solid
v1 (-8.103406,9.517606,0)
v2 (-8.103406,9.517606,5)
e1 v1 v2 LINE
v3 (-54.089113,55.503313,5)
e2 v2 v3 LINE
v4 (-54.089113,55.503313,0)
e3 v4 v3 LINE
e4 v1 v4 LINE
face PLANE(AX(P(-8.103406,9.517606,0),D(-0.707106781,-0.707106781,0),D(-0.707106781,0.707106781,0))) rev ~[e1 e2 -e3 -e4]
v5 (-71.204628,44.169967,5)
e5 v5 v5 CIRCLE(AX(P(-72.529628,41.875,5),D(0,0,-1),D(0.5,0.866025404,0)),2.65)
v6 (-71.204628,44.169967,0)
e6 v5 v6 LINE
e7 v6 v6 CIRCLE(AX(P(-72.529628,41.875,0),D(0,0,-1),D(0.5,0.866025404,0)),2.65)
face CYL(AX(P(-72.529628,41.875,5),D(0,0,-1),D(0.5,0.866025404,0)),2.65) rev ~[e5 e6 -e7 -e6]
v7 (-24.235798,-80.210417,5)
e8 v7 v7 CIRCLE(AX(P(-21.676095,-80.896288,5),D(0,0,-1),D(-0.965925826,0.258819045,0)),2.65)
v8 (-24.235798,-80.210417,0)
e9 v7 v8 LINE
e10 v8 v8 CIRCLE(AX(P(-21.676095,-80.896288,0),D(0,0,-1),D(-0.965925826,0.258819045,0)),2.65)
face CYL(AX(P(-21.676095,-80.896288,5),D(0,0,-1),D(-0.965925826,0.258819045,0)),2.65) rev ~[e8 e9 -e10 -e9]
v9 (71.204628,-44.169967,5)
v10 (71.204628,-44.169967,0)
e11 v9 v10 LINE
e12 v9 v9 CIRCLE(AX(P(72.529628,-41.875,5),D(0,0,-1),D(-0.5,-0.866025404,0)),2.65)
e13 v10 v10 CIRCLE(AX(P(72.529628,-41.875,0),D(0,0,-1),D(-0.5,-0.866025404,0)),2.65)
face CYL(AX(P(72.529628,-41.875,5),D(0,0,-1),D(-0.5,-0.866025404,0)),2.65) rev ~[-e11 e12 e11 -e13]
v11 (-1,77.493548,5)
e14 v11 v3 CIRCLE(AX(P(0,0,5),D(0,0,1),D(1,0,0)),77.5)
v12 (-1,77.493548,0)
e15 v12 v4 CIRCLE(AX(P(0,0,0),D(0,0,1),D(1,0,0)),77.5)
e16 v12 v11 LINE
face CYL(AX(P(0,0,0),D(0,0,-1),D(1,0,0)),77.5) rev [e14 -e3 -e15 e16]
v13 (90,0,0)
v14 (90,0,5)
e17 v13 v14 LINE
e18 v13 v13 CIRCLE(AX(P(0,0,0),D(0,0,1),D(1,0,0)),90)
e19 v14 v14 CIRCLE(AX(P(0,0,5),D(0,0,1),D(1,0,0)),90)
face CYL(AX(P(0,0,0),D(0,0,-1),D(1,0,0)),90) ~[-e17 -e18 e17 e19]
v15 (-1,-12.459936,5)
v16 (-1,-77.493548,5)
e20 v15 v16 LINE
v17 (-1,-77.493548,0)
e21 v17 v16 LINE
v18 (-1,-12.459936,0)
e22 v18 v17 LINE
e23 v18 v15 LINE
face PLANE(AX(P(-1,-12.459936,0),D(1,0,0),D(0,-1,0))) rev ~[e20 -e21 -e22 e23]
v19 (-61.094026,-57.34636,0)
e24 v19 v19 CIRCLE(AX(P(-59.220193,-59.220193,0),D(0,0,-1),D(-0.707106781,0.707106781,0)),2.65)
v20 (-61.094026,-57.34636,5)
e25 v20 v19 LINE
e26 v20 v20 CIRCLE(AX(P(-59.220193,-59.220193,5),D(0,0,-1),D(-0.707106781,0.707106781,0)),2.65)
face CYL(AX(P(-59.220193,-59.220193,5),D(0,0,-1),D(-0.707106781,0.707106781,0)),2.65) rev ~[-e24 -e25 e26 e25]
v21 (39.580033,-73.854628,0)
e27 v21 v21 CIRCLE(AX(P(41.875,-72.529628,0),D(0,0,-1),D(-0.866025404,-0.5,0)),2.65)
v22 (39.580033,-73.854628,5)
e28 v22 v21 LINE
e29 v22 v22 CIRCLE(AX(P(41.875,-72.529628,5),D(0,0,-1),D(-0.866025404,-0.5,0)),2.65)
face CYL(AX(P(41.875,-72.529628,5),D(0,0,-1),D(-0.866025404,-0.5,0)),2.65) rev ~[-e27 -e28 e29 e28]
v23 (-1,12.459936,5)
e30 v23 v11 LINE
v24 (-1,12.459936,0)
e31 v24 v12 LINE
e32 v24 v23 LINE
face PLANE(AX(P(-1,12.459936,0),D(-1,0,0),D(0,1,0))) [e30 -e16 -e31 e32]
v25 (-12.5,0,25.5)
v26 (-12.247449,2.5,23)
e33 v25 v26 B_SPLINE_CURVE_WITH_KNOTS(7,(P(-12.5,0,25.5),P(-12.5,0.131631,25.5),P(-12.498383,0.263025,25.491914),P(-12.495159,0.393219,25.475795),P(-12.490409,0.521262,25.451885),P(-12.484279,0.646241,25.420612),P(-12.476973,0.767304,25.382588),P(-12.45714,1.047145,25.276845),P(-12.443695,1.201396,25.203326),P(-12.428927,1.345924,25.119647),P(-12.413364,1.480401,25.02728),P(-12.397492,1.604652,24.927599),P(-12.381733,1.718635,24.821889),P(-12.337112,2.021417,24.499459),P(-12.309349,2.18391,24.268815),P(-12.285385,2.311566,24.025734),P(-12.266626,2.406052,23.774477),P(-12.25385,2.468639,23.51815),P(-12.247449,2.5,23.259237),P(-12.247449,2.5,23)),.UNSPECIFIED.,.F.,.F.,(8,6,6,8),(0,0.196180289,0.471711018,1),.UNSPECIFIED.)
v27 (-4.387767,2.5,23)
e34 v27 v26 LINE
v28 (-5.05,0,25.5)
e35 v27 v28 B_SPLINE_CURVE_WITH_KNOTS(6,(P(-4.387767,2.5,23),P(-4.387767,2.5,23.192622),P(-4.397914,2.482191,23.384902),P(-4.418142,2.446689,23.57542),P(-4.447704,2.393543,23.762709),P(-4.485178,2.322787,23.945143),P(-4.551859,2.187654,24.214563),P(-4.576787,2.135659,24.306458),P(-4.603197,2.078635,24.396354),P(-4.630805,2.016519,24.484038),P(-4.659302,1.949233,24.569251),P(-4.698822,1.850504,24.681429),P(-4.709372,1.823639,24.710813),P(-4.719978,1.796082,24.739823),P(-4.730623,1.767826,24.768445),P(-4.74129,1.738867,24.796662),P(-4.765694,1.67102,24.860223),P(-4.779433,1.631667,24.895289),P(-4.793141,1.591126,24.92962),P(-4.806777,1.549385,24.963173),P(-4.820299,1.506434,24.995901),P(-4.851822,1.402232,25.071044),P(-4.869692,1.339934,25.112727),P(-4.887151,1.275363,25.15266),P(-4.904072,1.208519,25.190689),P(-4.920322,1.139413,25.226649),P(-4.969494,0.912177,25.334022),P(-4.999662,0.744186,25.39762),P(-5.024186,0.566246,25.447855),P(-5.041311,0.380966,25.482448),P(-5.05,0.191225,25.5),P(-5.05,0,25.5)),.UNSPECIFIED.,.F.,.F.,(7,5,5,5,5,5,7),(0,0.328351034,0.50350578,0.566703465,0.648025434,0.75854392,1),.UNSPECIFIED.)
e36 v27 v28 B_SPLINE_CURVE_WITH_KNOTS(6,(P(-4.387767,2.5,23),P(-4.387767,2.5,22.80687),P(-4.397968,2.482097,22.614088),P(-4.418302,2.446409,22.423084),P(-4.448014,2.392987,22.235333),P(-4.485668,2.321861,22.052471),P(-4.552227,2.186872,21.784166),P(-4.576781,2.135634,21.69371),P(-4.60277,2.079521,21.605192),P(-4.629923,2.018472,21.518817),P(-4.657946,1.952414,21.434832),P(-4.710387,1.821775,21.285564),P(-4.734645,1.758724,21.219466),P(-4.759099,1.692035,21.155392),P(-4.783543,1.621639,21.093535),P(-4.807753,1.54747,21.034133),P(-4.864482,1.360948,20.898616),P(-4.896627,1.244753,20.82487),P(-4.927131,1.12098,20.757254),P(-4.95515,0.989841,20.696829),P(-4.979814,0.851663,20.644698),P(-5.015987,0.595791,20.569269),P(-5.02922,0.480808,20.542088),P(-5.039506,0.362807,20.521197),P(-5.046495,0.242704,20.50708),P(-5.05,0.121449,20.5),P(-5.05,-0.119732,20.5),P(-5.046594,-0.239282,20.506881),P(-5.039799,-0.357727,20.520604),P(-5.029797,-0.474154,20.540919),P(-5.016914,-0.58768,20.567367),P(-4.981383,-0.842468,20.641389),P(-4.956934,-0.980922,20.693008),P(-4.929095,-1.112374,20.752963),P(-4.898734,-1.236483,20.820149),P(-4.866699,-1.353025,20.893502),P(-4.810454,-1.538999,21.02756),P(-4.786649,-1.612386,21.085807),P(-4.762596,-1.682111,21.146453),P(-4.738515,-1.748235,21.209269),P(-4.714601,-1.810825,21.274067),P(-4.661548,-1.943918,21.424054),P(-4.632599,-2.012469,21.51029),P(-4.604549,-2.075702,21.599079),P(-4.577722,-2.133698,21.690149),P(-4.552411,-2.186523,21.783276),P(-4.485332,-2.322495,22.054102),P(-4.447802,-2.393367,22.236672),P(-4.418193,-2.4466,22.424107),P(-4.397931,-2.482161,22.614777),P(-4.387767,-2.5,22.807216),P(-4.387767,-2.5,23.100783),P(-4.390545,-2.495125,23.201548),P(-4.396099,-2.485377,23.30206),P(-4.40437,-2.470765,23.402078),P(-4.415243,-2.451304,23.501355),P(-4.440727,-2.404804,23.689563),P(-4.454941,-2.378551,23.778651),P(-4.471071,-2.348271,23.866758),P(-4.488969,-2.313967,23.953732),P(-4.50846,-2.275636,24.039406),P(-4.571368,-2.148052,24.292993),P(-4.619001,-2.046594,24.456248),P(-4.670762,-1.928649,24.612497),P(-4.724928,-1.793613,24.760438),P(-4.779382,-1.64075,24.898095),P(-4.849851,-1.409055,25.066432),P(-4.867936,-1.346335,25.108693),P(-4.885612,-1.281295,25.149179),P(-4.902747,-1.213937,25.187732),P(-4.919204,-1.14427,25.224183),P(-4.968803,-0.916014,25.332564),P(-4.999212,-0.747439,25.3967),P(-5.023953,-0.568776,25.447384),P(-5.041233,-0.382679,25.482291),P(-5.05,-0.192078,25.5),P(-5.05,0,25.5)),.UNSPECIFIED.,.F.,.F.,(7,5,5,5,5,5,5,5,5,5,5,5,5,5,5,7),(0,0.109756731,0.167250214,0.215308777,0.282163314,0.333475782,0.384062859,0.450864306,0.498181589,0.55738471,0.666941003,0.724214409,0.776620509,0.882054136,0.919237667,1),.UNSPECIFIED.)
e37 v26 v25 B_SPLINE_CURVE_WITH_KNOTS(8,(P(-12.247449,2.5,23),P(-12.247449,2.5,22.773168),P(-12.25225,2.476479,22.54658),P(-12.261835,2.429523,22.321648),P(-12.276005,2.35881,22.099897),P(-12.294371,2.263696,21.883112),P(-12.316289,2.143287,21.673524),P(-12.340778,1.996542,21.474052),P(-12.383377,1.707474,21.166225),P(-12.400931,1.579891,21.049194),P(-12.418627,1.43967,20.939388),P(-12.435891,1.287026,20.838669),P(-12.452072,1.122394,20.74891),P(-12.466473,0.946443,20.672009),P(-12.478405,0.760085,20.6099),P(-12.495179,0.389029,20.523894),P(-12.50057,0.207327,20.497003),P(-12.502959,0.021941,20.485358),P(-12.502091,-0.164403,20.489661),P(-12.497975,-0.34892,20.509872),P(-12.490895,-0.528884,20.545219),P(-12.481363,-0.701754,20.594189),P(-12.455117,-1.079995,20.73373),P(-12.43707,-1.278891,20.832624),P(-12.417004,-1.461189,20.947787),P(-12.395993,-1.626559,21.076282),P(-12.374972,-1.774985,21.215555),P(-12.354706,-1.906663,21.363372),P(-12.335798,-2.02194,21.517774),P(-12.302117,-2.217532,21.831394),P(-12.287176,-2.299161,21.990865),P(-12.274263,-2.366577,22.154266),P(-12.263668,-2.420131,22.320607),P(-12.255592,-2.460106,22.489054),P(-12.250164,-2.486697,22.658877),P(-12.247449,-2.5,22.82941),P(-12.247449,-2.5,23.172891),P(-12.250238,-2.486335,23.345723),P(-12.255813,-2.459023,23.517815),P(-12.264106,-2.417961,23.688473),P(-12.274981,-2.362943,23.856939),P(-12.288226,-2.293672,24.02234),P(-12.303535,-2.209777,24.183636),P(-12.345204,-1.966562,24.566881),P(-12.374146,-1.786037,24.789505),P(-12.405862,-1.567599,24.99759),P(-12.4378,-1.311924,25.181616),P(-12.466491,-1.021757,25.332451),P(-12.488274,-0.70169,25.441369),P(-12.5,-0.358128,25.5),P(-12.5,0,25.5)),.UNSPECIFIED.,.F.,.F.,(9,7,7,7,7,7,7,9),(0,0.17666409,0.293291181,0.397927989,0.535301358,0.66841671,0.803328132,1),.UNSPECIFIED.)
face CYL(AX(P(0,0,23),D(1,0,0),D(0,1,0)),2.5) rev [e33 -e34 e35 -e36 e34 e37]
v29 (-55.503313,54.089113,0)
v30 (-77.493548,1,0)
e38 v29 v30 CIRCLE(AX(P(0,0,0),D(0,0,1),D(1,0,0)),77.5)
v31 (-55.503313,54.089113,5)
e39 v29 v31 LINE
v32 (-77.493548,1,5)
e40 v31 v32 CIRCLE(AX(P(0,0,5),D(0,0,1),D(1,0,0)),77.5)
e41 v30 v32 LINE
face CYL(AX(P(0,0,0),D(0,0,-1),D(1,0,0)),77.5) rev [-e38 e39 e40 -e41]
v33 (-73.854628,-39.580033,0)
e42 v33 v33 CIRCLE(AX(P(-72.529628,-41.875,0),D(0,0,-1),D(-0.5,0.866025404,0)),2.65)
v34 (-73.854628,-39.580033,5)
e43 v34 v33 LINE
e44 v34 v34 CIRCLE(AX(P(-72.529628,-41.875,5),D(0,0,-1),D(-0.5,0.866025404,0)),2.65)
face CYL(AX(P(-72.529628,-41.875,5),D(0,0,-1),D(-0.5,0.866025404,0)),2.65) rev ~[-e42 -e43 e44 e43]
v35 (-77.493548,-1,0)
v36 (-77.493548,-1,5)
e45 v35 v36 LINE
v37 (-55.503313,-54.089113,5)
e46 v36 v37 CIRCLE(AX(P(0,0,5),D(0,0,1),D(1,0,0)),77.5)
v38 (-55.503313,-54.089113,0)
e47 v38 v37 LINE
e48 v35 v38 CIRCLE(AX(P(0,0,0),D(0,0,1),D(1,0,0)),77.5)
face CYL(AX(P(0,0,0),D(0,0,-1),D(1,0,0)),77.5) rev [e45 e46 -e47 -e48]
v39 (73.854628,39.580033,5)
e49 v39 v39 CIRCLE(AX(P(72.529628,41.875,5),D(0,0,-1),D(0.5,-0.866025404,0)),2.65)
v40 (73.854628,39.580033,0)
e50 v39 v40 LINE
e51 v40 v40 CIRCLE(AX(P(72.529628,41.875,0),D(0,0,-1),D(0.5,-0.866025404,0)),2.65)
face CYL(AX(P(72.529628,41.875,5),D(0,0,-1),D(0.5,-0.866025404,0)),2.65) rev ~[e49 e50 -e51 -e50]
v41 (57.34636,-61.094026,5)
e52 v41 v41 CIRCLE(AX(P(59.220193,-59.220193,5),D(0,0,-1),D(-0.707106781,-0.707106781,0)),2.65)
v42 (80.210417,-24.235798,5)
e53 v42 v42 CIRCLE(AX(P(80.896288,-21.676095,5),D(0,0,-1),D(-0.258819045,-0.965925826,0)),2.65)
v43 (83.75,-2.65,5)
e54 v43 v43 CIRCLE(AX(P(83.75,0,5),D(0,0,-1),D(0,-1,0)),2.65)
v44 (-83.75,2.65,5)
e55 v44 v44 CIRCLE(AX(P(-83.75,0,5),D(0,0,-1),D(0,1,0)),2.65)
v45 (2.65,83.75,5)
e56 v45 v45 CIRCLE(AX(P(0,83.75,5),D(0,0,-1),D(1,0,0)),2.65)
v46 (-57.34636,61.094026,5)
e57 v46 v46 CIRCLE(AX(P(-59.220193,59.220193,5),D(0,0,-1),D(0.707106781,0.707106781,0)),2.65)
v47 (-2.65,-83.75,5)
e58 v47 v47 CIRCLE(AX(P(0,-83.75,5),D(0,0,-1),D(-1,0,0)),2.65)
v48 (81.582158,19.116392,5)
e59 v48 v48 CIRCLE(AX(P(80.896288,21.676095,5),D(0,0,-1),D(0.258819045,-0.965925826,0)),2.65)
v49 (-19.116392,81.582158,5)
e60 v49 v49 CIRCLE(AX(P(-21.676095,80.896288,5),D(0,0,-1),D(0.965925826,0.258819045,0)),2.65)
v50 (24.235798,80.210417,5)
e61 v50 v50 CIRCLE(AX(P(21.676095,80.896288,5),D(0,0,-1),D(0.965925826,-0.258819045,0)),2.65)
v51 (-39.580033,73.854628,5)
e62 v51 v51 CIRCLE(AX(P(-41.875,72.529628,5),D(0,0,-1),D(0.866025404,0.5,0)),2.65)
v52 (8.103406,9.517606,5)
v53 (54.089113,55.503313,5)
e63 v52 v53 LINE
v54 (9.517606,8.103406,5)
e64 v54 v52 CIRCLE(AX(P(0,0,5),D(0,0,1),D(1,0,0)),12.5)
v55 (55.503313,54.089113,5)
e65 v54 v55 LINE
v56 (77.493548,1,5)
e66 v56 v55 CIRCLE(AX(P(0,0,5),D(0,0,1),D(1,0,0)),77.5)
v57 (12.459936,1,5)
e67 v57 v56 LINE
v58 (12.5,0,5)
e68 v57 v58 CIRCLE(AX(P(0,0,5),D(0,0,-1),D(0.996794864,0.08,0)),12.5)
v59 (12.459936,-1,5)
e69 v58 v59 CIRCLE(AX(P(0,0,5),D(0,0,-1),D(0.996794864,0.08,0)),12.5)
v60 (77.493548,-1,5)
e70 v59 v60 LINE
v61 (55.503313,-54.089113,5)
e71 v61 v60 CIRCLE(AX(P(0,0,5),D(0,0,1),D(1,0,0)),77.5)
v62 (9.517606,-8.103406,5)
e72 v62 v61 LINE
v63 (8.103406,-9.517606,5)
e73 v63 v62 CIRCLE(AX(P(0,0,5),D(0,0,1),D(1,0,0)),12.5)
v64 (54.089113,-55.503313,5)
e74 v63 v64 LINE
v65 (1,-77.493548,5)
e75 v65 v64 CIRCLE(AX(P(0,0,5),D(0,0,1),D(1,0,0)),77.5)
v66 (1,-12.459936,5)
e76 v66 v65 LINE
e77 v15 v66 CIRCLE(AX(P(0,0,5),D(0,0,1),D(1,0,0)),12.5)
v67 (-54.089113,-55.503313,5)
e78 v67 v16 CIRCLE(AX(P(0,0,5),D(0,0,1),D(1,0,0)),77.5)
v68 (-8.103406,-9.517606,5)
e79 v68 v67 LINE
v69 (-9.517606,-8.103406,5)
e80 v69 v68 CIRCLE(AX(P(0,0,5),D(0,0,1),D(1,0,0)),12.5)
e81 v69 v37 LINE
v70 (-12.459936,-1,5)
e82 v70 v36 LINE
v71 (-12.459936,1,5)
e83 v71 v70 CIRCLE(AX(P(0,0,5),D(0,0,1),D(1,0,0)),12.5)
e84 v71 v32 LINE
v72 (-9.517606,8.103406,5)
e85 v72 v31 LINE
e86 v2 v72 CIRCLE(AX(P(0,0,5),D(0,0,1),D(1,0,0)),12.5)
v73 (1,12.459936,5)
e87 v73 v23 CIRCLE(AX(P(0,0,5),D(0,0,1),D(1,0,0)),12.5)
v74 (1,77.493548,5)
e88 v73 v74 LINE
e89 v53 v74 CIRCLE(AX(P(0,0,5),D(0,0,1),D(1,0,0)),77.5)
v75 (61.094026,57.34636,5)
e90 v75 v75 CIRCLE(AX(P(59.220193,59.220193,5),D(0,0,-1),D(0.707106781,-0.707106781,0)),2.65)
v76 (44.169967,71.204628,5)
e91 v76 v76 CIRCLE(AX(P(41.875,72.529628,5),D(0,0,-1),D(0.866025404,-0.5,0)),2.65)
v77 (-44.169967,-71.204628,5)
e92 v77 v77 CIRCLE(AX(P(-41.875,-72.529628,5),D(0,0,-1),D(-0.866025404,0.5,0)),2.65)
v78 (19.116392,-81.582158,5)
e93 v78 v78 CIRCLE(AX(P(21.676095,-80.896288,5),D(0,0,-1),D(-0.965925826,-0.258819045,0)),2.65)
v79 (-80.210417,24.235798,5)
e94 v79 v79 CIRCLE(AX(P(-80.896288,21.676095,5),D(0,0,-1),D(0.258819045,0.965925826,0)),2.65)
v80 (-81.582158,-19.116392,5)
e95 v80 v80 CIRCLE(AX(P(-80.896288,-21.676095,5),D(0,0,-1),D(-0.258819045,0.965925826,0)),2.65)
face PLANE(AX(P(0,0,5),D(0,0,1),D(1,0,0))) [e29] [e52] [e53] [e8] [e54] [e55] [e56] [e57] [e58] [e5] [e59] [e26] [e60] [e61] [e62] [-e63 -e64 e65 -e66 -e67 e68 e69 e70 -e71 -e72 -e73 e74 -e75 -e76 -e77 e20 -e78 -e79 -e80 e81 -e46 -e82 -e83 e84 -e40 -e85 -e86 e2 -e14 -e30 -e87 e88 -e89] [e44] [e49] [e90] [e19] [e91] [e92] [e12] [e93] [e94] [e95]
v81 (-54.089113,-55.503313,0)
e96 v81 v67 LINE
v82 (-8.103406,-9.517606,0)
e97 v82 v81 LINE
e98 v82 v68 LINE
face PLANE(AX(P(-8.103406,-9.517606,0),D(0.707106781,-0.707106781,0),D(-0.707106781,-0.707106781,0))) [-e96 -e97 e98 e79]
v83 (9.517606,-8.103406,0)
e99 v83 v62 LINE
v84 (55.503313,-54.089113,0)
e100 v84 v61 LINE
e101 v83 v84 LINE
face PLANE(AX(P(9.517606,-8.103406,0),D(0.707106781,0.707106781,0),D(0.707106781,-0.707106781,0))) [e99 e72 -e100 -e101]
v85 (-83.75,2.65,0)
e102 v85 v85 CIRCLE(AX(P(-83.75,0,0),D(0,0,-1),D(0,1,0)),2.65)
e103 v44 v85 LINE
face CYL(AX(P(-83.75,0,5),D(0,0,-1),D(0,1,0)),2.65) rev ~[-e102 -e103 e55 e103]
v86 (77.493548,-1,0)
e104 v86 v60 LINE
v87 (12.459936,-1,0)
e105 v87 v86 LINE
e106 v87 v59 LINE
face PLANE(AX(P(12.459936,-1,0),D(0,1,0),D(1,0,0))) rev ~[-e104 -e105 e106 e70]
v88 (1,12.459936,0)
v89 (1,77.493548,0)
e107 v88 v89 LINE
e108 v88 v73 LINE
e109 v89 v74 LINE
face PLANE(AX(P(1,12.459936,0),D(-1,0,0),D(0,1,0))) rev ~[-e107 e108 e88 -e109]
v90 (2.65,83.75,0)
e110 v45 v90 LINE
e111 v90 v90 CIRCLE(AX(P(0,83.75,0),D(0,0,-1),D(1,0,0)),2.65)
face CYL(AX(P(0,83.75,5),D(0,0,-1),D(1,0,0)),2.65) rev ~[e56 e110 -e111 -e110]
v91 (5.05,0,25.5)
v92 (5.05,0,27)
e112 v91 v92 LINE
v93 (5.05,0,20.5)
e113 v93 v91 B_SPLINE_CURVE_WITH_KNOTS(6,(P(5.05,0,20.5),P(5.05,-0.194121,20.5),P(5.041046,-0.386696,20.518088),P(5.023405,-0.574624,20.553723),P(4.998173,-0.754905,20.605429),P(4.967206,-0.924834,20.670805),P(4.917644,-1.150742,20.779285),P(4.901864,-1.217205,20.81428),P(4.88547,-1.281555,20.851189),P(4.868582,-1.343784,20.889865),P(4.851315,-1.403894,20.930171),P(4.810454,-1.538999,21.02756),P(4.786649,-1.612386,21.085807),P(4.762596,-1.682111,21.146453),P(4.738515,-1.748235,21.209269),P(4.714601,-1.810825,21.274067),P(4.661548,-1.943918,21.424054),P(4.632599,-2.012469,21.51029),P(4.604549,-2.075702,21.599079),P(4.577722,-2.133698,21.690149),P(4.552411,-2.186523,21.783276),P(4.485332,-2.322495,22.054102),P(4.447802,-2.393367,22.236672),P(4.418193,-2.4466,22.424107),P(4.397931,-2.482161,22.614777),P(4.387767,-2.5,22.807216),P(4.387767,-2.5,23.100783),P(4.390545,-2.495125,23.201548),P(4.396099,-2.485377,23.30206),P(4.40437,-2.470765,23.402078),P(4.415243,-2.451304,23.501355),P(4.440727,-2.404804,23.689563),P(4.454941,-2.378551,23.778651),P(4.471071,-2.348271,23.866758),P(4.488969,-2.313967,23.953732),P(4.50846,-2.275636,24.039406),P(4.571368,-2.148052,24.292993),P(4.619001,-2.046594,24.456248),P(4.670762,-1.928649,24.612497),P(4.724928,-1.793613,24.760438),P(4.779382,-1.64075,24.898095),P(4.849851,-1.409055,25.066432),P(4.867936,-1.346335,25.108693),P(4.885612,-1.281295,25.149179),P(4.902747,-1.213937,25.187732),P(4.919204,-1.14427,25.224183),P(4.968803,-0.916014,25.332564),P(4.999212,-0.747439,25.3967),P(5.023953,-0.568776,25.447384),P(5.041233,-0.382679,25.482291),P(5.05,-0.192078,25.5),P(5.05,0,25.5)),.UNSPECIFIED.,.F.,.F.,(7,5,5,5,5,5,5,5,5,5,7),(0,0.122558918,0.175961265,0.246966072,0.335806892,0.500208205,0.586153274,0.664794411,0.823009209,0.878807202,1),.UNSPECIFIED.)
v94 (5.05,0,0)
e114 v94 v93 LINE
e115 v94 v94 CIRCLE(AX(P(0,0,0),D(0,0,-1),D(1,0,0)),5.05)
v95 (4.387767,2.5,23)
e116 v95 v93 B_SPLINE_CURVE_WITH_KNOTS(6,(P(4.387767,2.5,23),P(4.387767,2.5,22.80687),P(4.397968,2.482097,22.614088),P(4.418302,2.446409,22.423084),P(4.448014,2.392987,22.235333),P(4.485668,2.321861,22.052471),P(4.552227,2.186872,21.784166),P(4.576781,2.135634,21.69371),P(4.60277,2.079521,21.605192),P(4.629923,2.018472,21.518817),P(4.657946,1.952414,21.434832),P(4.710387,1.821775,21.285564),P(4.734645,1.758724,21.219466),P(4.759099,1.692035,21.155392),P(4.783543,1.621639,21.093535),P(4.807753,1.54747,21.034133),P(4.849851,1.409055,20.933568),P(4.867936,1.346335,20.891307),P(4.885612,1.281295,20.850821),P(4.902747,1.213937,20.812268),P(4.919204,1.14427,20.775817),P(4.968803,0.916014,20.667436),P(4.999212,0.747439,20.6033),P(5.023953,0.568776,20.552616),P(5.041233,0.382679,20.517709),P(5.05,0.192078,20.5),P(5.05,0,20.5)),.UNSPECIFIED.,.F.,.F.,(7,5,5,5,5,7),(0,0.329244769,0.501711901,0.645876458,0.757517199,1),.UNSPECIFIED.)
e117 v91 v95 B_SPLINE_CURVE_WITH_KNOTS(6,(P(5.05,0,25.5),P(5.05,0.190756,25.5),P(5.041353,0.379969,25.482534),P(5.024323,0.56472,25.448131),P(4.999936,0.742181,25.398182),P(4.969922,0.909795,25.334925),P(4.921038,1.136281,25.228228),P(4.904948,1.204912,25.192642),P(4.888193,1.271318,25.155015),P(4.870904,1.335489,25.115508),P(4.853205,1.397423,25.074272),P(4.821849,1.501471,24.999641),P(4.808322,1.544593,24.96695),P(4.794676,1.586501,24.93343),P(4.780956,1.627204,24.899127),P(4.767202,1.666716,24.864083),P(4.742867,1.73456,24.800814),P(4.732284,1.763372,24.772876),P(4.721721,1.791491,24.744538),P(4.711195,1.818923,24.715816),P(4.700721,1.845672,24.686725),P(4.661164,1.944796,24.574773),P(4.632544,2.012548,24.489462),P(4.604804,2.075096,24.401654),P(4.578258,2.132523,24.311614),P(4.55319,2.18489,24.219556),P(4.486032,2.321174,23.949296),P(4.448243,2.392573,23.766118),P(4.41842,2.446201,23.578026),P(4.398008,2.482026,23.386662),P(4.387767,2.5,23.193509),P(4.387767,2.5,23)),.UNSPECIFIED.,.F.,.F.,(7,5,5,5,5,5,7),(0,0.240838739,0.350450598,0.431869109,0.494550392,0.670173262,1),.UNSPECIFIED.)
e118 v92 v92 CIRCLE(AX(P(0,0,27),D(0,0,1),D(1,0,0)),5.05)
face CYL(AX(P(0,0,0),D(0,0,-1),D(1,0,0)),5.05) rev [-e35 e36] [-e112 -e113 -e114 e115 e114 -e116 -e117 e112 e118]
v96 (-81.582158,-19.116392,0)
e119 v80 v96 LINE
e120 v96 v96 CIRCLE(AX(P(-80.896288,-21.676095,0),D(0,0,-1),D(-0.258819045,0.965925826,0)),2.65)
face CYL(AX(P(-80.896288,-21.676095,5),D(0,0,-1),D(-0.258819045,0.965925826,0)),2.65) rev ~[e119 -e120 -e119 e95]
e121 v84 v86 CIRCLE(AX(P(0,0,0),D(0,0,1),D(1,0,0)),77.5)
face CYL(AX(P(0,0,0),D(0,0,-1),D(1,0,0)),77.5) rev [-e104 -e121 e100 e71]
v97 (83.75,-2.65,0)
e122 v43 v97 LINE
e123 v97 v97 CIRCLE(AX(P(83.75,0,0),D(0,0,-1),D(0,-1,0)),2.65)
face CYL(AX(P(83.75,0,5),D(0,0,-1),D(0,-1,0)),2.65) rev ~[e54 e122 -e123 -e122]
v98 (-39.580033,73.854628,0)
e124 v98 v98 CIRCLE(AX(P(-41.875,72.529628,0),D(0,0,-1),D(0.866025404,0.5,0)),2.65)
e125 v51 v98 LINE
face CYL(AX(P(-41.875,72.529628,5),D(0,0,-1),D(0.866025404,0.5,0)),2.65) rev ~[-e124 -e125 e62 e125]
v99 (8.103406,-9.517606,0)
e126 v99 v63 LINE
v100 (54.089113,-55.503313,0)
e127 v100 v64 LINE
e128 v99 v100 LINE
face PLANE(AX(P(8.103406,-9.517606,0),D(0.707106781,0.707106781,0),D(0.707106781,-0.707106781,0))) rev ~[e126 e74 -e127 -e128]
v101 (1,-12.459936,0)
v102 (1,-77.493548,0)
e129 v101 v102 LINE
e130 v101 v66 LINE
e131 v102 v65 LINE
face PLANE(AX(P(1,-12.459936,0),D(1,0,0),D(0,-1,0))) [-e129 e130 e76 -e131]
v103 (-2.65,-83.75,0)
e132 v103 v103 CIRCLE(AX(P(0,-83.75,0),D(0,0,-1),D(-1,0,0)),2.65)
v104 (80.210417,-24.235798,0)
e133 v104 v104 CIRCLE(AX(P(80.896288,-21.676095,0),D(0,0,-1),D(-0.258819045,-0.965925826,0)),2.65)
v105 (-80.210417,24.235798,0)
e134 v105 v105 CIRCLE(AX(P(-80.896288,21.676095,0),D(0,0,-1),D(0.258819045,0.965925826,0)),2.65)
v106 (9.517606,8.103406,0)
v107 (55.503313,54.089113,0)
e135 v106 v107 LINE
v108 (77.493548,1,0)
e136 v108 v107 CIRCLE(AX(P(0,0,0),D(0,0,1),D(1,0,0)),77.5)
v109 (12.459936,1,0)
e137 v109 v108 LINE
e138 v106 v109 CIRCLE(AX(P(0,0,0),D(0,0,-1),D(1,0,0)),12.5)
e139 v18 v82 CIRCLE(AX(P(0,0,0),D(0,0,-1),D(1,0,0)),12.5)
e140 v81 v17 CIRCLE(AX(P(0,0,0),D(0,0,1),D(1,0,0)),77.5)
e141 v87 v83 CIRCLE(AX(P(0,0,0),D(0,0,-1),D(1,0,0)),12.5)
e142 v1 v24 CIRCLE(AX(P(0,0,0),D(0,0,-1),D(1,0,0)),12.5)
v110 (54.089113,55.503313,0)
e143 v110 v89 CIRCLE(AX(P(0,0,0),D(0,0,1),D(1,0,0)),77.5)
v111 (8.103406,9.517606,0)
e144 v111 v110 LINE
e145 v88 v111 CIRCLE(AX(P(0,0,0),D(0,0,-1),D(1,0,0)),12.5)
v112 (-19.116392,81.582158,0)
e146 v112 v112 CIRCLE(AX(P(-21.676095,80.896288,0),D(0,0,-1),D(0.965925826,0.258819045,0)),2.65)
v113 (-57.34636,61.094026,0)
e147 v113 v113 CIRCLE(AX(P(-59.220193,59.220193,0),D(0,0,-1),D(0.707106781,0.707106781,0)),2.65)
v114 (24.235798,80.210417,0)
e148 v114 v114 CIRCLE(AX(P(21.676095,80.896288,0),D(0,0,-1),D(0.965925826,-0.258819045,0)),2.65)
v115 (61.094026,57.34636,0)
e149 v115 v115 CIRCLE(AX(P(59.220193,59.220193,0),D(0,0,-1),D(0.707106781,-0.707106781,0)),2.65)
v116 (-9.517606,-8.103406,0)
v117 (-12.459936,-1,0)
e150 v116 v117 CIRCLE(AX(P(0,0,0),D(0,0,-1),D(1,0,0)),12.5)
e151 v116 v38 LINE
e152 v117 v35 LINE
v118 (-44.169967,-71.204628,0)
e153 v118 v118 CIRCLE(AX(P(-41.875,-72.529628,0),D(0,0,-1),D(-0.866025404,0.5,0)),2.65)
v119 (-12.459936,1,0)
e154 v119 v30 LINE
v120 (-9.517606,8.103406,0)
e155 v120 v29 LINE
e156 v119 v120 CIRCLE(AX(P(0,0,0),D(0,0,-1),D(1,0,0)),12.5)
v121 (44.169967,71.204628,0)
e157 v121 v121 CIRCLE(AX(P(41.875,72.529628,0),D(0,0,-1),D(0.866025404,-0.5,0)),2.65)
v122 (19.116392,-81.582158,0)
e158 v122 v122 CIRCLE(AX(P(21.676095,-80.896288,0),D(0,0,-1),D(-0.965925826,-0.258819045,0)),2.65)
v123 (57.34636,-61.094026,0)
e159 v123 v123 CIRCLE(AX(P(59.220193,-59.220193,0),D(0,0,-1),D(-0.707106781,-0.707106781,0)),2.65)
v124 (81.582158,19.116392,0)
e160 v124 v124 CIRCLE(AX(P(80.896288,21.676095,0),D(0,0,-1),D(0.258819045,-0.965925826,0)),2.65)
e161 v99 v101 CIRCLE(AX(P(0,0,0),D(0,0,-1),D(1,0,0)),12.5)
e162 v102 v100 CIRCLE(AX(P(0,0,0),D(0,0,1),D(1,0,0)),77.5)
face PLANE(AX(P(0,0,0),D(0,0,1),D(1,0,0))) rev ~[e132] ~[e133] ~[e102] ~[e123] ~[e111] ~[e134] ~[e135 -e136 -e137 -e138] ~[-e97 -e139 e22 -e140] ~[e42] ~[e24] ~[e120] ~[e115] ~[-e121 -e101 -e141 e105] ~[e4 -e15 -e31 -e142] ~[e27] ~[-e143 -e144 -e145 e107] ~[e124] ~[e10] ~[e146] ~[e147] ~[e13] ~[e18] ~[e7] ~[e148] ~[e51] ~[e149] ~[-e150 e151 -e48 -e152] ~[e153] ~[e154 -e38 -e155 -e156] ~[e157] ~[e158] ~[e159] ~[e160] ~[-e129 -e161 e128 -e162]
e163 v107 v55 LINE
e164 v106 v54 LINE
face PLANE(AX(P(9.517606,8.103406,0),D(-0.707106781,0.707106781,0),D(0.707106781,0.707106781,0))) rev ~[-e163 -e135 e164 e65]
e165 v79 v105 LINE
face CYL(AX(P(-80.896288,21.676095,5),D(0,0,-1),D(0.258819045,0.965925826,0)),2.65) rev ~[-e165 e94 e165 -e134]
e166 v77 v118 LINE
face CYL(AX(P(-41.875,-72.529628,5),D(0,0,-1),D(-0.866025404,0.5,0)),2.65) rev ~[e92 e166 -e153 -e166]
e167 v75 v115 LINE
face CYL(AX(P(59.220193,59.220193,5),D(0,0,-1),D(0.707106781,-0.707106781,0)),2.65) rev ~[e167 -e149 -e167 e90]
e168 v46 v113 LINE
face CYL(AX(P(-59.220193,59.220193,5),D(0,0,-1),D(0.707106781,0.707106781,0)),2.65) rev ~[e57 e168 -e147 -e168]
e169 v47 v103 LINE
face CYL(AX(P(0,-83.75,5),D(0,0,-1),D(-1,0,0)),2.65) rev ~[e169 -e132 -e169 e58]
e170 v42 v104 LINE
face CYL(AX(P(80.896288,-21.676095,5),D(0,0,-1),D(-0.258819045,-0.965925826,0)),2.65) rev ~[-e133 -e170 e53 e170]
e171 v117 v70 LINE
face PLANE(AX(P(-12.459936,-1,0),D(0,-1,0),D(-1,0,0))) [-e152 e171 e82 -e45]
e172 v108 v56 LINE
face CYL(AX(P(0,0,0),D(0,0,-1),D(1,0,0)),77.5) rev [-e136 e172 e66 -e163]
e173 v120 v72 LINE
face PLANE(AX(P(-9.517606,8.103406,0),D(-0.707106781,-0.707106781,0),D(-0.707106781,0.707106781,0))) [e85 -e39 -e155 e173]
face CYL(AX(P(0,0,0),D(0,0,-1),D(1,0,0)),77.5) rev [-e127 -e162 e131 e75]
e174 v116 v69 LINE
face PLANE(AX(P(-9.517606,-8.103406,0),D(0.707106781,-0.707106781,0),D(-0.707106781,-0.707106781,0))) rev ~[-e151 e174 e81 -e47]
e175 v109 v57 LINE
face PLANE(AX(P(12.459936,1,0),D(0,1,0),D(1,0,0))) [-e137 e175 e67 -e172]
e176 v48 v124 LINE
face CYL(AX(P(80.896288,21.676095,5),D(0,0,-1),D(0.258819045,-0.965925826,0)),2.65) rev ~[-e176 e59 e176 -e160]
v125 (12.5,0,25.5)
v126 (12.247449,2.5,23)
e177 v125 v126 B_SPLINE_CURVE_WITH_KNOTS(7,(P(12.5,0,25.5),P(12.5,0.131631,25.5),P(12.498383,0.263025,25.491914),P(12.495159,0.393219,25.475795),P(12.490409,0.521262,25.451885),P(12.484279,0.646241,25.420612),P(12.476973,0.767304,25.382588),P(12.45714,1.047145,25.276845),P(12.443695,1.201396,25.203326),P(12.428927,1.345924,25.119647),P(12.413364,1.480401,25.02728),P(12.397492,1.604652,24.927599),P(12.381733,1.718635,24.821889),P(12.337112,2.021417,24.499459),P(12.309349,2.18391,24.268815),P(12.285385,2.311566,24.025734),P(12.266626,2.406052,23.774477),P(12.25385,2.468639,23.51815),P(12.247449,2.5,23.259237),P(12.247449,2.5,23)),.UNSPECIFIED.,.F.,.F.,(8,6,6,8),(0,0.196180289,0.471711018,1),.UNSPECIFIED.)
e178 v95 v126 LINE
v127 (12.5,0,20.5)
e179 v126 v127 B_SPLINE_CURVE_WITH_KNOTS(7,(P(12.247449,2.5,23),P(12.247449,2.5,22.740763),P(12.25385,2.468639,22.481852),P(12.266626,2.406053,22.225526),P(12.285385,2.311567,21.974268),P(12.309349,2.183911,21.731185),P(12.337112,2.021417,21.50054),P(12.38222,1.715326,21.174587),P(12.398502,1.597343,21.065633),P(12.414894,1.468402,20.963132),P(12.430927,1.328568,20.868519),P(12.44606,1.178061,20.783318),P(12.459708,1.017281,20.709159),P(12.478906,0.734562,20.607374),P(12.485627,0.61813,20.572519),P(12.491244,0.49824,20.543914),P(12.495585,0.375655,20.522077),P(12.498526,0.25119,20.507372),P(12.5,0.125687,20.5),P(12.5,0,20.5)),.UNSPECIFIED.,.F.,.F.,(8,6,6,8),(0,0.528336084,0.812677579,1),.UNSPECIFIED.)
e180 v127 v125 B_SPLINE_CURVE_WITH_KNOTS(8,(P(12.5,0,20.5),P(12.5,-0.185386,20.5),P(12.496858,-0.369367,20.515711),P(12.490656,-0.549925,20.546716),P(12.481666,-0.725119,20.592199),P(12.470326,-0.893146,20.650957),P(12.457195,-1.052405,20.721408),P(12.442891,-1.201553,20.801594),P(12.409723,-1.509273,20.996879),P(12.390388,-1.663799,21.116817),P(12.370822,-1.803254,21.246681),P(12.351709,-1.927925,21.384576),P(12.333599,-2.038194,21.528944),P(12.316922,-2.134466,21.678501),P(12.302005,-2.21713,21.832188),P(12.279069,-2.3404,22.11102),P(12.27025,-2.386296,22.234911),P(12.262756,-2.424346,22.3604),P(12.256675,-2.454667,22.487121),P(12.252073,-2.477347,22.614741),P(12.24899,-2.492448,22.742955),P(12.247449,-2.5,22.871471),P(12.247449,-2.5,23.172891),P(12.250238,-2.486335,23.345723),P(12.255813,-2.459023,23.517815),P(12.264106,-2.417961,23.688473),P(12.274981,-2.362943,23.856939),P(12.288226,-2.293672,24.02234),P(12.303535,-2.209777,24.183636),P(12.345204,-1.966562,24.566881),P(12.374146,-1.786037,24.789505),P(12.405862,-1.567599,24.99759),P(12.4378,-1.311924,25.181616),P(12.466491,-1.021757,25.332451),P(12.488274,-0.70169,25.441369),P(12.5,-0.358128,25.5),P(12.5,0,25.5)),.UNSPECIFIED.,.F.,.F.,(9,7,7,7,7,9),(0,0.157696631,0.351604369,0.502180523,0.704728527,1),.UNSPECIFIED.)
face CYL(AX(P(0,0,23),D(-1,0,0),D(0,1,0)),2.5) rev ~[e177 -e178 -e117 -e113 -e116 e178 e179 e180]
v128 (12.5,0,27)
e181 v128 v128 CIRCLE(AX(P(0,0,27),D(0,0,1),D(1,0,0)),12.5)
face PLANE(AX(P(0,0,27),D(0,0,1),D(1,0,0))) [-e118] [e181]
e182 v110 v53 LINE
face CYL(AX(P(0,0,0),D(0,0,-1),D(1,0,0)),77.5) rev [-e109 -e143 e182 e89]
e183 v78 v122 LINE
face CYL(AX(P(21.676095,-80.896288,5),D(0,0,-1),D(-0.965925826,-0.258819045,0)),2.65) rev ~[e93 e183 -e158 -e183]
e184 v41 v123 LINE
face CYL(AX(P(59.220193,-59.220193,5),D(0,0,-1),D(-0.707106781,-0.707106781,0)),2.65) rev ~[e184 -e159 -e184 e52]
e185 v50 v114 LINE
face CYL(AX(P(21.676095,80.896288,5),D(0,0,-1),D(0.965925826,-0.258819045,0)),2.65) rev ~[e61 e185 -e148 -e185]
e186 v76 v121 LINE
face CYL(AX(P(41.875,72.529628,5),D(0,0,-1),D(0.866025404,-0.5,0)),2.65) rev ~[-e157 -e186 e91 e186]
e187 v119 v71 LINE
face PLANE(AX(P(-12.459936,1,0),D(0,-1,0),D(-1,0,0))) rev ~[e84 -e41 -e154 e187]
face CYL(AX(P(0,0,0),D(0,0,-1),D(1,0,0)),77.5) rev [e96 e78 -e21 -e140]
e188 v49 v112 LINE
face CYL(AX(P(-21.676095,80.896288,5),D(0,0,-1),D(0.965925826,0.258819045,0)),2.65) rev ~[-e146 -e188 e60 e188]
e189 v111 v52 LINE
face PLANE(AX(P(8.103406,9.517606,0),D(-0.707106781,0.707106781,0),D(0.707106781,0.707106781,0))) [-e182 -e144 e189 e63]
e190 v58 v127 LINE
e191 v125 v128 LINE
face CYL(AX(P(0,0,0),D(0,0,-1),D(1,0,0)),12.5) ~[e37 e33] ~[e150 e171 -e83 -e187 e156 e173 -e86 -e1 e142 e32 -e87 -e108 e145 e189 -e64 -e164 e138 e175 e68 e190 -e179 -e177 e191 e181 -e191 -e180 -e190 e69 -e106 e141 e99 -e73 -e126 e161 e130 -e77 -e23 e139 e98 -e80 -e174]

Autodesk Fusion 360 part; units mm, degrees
sketch "Sketch1" plane through (0, 0, 0) normal (0, 0, 1) x (1, 0, 0)
  line L0 (-1, 0) -> (-1, -77.5)
  line L1 (-0.4142, -1) -> (77.5, -1)
  line L2 (-1, 0) -> (-1, 77.5)
  line L3 (-0.4142, 1) -> (-55.5079, -54.0937)
  line L4 (0, 0) -> (77.5, 0) construction
  line L5 (0, 0) -> (0, 77.5) construction
  line L6 (0, 0) -> (-54.8008, -54.8008) construction
  line L7 (-2.4142, 1) -> (54.0937, -55.5079)
  line L8 (0, 0) -> (0, -77.5) construction
  line L9 (-0.4142, -1) -> (-55.5079, 54.0937)
  line L10 (0, -1) -> (-77.5, -1)
  line L11 (2.4142, 1) -> (55.5079, 54.0937)
  line L12 (0, 0) -> (77.5, 0) construction
  line L13 (0.7071, 0.7071) -> (-54.0937, 55.5079)
  line L14 (0, 0) -> (-54.8008, 54.8008) construction
  line L15 (2.4142, 1) -> (77.5, 1)
  line L16 (0, 1) -> (-77.5, 1)
  circle A0 centre (0, 0) radius 12.5
  line L17 (-2.4142, 1) -> (77.5, 1)
  line L18 (-0.4142, 1) -> (77.5, 1)
  line L19 (2.4142, -1) -> (77.5, -1)
  line L20 (-2.4142, -1) -> (77.5, -1)
  line L21 (0, 0) -> (-77.5, 0) construction
  circle A1 centre (0, 0) radius 5.05
  line L22 (1, 0) -> (1, -77.5)
  line L23 (0.4142, -1) -> (-54.0937, -55.5079)
  line L24 (0, 0) -> (54.8008, 54.8008) construction
  line L25 (1, 0) -> (1, 77.5)
  line L26 (0, 0) -> (77.5, 0) construction
  circle A2 centre (0, 0) radius 77.5
  line L27 (0, 0) -> (77.5, 0) construction
  circle A3 centre (0, 0) radius 90
  line L28 (0.4142, -1) -> (77.5, -1)
  line L29 (0, 0) -> (54.8008, -54.8008) construction
  line L30 (-2.4142, -1) -> (54.0937, 55.5079)
  line L31 (0, 0) -> (77.5, 0) construction
  line L32 (2.4142, -1) -> (55.5079, -54.0937)
  dimension "d42" = 1
  dimension "d43" = -1
  dimension "d44" = 1
  dimension "d45" = -1
  dimension "d46" = 1
  dimension "d47" = -1
  dimension "d48" = 1
  dimension "d49" = -1
  dimension "d50" = 1
  dimension "d51" = -1
  dimension "d52" = 1
  dimension "d53" = -1
  dimension "d54" = 1
  dimension "d55" = -1
  dimension "d33" = 10.1
  dimension "d35" = 180
  dimension "d37" = 155
  dimension "d38" = 45
  dimension "d39" = 45
  dimension "d40" = 135
  dimension "d41" = 135
  dimension "d56" = 25
extrude "Extrude1" add sketch "Sketch1" along normal blind 27 contours L0 A0 A1 L22 | L0 A0 A1 L23 | L3 A0 A1 L23 | L3 L10 A0 A1 | L10 L16 A0 A1 | L9 L16 A0 A1 | L9 L13 A0 A1 | L2 L13 A0 A1 | L2 A0 A1 L25 | L7 A0 A1 L22 | L7 A0 A1 L32 | A0 A1 L25 L30 | L11 A0 A1 L30 | L1 A0 L19 L20 A1 L28 L32 | L11 L15 A0 L17 L18 A1 | L1 L15 A0 L17 L18 L19 L20 A1 L28
extrude "Extrude2" add sketch "Sketch1" along normal blind 5 contours L0 A0 L22 A2 | L3 A0 L23 A2 | L10 L16 A0 A2 | L9 L13 A0 A2 | L2 A0 L25 A2 | L7 A0 A2 L32 | L11 A0 A2 L30 | L1 L15 A0 L17 L18 L19 L20 A2 L28 | A3
sketch "Sketch2" plane through (0, 0, 5) normal (0, 0, 1) x (-1, 0, 0)
  arc A0 (1, 12.4599) -> (-1, 12.4599) centre (0, 0) ccw
  line L0 (1, 12.4599) -> (1, 77.4935)
  arc A1 (54.0891, 55.5033) -> (1, 77.4935) centre (0, 0) ccw
  line L1 (54.0891, 55.5033) -> (8.1034, 9.5176)
  arc A2 (9.5176, 8.1034) -> (8.1034, 9.5176) centre (0, 0) ccw
  line L2 (9.5176, 8.1034) -> (55.5033, 54.0891)
  arc A3 (77.4935, 1) -> (55.5033, 54.0891) centre (0, 0) ccw
  line L3 (77.4935, 1) -> (12.4599, 1)
  arc A4 (12.4599, -1) -> (12.4599, 1) centre (0, 0) ccw
  line L4 (12.4599, -1) -> (77.4935, -1)
  arc A5 (55.5033, -54.0891) -> (77.4935, -1) centre (0, 0) ccw
  line L5 (55.5033, -54.0891) -> (9.5176, -8.1034)
  arc A6 (8.1034, -9.5176) -> (9.5176, -8.1034) centre (0, 0) ccw
  line L6 (8.1034, -9.5176) -> (54.0891, -55.5033)
  arc A7 (1, -77.4935) -> (54.0891, -55.5033) centre (0, 0) ccw
  line L7 (1, -77.4935) -> (1, -12.4599)
  arc A8 (-1, -12.4599) -> (1, -12.4599) centre (0, 0) ccw
  line L8 (-1, -12.4599) -> (-1, -77.4935)
  arc A9 (-54.0891, -55.5033) -> (-1, -77.4935) centre (0, 0) ccw
  line L9 (-54.0891, -55.5033) -> (-8.1034, -9.5176)
  arc A10 (-9.5176, -8.1034) -> (-8.1034, -9.5176) centre (0, 0) ccw
  line L10 (-9.5176, -8.1034) -> (-55.5033, -54.0891)
  arc A11 (-77.4935, -1) -> (-55.5033, -54.0891) centre (0, 0) ccw
  line L11 (-77.4935, -1) -> (-12.4599, -1)
  arc A12 (-12.4599, 1) -> (-12.4599, -1) centre (0, 0) ccw
  line L12 (-12.4599, 1) -> (-77.4935, 1)
  arc A13 (-55.5033, 54.0891) -> (-77.4935, 1) centre (0, 0) ccw
  line L13 (-55.5033, 54.0891) -> (-9.5176, 8.1034)
  arc A14 (-8.1034, 9.5176) -> (-9.5176, 8.1034) centre (0, 0) ccw
  line L14 (-8.1034, 9.5176) -> (-54.0891, 55.5033)
  arc A15 (-1, 77.4935) -> (-54.0891, 55.5033) centre (0, 0) ccw
  line L15 (-1, 77.4935) -> (-1, 12.4599)
  circle A16 centre (0, 0) radius 90
  line L16 (-77.5, 0) -> (-83.75, 0) construction
  circle A17 centre (-83.75, 0) radius 2.65
  point P0 (-77.5, 0)
  dimension "d28" = 6.25
  dimension "d29" = 5.3
hole "Hole1" at (83.75, 0, 5) direction (0, 0, -1) diameter 5.3 depth 10 tip angle 180
pattern_circular "C-Pattern1" count 24 over 360 about axis through (0, 0, 0) along (0, 0, 1) of "Hole1"
ref_plane "WorkPlane1" through (12.5, 0, 19.1773) normal (1, 0, 0) x (0, -1, 0)
ref_plane "WorkPlane2" through (-12.5, 0, 14.5915) normal (-1, 0, 0) x (0, 1, 0)
ref_plane "WorkPlane3" through (0, 0, 14.5915) normal (-1, 0, 0) x (0, 1, 0)
sketch "Sketch3" plane through (0, 0, 14.5915) normal (-1, 0, 0) x (0, 1, 0)
  line L0 (-12.5, -12.4085) -> (12.5, -12.4085)
  line L1 (0, -12.4085) -> (0, -8.4085)
  circle A0 centre (0, -8.4085) radius 2.5
  dimension "d59" = 4
  dimension "d60" = 5
extrude "Extrude3" cut sketch "Sketch3" along normal blind 16 and the other way blind 18
equation "d28 = ( 12.500 / 2 ) * 1 mm"
